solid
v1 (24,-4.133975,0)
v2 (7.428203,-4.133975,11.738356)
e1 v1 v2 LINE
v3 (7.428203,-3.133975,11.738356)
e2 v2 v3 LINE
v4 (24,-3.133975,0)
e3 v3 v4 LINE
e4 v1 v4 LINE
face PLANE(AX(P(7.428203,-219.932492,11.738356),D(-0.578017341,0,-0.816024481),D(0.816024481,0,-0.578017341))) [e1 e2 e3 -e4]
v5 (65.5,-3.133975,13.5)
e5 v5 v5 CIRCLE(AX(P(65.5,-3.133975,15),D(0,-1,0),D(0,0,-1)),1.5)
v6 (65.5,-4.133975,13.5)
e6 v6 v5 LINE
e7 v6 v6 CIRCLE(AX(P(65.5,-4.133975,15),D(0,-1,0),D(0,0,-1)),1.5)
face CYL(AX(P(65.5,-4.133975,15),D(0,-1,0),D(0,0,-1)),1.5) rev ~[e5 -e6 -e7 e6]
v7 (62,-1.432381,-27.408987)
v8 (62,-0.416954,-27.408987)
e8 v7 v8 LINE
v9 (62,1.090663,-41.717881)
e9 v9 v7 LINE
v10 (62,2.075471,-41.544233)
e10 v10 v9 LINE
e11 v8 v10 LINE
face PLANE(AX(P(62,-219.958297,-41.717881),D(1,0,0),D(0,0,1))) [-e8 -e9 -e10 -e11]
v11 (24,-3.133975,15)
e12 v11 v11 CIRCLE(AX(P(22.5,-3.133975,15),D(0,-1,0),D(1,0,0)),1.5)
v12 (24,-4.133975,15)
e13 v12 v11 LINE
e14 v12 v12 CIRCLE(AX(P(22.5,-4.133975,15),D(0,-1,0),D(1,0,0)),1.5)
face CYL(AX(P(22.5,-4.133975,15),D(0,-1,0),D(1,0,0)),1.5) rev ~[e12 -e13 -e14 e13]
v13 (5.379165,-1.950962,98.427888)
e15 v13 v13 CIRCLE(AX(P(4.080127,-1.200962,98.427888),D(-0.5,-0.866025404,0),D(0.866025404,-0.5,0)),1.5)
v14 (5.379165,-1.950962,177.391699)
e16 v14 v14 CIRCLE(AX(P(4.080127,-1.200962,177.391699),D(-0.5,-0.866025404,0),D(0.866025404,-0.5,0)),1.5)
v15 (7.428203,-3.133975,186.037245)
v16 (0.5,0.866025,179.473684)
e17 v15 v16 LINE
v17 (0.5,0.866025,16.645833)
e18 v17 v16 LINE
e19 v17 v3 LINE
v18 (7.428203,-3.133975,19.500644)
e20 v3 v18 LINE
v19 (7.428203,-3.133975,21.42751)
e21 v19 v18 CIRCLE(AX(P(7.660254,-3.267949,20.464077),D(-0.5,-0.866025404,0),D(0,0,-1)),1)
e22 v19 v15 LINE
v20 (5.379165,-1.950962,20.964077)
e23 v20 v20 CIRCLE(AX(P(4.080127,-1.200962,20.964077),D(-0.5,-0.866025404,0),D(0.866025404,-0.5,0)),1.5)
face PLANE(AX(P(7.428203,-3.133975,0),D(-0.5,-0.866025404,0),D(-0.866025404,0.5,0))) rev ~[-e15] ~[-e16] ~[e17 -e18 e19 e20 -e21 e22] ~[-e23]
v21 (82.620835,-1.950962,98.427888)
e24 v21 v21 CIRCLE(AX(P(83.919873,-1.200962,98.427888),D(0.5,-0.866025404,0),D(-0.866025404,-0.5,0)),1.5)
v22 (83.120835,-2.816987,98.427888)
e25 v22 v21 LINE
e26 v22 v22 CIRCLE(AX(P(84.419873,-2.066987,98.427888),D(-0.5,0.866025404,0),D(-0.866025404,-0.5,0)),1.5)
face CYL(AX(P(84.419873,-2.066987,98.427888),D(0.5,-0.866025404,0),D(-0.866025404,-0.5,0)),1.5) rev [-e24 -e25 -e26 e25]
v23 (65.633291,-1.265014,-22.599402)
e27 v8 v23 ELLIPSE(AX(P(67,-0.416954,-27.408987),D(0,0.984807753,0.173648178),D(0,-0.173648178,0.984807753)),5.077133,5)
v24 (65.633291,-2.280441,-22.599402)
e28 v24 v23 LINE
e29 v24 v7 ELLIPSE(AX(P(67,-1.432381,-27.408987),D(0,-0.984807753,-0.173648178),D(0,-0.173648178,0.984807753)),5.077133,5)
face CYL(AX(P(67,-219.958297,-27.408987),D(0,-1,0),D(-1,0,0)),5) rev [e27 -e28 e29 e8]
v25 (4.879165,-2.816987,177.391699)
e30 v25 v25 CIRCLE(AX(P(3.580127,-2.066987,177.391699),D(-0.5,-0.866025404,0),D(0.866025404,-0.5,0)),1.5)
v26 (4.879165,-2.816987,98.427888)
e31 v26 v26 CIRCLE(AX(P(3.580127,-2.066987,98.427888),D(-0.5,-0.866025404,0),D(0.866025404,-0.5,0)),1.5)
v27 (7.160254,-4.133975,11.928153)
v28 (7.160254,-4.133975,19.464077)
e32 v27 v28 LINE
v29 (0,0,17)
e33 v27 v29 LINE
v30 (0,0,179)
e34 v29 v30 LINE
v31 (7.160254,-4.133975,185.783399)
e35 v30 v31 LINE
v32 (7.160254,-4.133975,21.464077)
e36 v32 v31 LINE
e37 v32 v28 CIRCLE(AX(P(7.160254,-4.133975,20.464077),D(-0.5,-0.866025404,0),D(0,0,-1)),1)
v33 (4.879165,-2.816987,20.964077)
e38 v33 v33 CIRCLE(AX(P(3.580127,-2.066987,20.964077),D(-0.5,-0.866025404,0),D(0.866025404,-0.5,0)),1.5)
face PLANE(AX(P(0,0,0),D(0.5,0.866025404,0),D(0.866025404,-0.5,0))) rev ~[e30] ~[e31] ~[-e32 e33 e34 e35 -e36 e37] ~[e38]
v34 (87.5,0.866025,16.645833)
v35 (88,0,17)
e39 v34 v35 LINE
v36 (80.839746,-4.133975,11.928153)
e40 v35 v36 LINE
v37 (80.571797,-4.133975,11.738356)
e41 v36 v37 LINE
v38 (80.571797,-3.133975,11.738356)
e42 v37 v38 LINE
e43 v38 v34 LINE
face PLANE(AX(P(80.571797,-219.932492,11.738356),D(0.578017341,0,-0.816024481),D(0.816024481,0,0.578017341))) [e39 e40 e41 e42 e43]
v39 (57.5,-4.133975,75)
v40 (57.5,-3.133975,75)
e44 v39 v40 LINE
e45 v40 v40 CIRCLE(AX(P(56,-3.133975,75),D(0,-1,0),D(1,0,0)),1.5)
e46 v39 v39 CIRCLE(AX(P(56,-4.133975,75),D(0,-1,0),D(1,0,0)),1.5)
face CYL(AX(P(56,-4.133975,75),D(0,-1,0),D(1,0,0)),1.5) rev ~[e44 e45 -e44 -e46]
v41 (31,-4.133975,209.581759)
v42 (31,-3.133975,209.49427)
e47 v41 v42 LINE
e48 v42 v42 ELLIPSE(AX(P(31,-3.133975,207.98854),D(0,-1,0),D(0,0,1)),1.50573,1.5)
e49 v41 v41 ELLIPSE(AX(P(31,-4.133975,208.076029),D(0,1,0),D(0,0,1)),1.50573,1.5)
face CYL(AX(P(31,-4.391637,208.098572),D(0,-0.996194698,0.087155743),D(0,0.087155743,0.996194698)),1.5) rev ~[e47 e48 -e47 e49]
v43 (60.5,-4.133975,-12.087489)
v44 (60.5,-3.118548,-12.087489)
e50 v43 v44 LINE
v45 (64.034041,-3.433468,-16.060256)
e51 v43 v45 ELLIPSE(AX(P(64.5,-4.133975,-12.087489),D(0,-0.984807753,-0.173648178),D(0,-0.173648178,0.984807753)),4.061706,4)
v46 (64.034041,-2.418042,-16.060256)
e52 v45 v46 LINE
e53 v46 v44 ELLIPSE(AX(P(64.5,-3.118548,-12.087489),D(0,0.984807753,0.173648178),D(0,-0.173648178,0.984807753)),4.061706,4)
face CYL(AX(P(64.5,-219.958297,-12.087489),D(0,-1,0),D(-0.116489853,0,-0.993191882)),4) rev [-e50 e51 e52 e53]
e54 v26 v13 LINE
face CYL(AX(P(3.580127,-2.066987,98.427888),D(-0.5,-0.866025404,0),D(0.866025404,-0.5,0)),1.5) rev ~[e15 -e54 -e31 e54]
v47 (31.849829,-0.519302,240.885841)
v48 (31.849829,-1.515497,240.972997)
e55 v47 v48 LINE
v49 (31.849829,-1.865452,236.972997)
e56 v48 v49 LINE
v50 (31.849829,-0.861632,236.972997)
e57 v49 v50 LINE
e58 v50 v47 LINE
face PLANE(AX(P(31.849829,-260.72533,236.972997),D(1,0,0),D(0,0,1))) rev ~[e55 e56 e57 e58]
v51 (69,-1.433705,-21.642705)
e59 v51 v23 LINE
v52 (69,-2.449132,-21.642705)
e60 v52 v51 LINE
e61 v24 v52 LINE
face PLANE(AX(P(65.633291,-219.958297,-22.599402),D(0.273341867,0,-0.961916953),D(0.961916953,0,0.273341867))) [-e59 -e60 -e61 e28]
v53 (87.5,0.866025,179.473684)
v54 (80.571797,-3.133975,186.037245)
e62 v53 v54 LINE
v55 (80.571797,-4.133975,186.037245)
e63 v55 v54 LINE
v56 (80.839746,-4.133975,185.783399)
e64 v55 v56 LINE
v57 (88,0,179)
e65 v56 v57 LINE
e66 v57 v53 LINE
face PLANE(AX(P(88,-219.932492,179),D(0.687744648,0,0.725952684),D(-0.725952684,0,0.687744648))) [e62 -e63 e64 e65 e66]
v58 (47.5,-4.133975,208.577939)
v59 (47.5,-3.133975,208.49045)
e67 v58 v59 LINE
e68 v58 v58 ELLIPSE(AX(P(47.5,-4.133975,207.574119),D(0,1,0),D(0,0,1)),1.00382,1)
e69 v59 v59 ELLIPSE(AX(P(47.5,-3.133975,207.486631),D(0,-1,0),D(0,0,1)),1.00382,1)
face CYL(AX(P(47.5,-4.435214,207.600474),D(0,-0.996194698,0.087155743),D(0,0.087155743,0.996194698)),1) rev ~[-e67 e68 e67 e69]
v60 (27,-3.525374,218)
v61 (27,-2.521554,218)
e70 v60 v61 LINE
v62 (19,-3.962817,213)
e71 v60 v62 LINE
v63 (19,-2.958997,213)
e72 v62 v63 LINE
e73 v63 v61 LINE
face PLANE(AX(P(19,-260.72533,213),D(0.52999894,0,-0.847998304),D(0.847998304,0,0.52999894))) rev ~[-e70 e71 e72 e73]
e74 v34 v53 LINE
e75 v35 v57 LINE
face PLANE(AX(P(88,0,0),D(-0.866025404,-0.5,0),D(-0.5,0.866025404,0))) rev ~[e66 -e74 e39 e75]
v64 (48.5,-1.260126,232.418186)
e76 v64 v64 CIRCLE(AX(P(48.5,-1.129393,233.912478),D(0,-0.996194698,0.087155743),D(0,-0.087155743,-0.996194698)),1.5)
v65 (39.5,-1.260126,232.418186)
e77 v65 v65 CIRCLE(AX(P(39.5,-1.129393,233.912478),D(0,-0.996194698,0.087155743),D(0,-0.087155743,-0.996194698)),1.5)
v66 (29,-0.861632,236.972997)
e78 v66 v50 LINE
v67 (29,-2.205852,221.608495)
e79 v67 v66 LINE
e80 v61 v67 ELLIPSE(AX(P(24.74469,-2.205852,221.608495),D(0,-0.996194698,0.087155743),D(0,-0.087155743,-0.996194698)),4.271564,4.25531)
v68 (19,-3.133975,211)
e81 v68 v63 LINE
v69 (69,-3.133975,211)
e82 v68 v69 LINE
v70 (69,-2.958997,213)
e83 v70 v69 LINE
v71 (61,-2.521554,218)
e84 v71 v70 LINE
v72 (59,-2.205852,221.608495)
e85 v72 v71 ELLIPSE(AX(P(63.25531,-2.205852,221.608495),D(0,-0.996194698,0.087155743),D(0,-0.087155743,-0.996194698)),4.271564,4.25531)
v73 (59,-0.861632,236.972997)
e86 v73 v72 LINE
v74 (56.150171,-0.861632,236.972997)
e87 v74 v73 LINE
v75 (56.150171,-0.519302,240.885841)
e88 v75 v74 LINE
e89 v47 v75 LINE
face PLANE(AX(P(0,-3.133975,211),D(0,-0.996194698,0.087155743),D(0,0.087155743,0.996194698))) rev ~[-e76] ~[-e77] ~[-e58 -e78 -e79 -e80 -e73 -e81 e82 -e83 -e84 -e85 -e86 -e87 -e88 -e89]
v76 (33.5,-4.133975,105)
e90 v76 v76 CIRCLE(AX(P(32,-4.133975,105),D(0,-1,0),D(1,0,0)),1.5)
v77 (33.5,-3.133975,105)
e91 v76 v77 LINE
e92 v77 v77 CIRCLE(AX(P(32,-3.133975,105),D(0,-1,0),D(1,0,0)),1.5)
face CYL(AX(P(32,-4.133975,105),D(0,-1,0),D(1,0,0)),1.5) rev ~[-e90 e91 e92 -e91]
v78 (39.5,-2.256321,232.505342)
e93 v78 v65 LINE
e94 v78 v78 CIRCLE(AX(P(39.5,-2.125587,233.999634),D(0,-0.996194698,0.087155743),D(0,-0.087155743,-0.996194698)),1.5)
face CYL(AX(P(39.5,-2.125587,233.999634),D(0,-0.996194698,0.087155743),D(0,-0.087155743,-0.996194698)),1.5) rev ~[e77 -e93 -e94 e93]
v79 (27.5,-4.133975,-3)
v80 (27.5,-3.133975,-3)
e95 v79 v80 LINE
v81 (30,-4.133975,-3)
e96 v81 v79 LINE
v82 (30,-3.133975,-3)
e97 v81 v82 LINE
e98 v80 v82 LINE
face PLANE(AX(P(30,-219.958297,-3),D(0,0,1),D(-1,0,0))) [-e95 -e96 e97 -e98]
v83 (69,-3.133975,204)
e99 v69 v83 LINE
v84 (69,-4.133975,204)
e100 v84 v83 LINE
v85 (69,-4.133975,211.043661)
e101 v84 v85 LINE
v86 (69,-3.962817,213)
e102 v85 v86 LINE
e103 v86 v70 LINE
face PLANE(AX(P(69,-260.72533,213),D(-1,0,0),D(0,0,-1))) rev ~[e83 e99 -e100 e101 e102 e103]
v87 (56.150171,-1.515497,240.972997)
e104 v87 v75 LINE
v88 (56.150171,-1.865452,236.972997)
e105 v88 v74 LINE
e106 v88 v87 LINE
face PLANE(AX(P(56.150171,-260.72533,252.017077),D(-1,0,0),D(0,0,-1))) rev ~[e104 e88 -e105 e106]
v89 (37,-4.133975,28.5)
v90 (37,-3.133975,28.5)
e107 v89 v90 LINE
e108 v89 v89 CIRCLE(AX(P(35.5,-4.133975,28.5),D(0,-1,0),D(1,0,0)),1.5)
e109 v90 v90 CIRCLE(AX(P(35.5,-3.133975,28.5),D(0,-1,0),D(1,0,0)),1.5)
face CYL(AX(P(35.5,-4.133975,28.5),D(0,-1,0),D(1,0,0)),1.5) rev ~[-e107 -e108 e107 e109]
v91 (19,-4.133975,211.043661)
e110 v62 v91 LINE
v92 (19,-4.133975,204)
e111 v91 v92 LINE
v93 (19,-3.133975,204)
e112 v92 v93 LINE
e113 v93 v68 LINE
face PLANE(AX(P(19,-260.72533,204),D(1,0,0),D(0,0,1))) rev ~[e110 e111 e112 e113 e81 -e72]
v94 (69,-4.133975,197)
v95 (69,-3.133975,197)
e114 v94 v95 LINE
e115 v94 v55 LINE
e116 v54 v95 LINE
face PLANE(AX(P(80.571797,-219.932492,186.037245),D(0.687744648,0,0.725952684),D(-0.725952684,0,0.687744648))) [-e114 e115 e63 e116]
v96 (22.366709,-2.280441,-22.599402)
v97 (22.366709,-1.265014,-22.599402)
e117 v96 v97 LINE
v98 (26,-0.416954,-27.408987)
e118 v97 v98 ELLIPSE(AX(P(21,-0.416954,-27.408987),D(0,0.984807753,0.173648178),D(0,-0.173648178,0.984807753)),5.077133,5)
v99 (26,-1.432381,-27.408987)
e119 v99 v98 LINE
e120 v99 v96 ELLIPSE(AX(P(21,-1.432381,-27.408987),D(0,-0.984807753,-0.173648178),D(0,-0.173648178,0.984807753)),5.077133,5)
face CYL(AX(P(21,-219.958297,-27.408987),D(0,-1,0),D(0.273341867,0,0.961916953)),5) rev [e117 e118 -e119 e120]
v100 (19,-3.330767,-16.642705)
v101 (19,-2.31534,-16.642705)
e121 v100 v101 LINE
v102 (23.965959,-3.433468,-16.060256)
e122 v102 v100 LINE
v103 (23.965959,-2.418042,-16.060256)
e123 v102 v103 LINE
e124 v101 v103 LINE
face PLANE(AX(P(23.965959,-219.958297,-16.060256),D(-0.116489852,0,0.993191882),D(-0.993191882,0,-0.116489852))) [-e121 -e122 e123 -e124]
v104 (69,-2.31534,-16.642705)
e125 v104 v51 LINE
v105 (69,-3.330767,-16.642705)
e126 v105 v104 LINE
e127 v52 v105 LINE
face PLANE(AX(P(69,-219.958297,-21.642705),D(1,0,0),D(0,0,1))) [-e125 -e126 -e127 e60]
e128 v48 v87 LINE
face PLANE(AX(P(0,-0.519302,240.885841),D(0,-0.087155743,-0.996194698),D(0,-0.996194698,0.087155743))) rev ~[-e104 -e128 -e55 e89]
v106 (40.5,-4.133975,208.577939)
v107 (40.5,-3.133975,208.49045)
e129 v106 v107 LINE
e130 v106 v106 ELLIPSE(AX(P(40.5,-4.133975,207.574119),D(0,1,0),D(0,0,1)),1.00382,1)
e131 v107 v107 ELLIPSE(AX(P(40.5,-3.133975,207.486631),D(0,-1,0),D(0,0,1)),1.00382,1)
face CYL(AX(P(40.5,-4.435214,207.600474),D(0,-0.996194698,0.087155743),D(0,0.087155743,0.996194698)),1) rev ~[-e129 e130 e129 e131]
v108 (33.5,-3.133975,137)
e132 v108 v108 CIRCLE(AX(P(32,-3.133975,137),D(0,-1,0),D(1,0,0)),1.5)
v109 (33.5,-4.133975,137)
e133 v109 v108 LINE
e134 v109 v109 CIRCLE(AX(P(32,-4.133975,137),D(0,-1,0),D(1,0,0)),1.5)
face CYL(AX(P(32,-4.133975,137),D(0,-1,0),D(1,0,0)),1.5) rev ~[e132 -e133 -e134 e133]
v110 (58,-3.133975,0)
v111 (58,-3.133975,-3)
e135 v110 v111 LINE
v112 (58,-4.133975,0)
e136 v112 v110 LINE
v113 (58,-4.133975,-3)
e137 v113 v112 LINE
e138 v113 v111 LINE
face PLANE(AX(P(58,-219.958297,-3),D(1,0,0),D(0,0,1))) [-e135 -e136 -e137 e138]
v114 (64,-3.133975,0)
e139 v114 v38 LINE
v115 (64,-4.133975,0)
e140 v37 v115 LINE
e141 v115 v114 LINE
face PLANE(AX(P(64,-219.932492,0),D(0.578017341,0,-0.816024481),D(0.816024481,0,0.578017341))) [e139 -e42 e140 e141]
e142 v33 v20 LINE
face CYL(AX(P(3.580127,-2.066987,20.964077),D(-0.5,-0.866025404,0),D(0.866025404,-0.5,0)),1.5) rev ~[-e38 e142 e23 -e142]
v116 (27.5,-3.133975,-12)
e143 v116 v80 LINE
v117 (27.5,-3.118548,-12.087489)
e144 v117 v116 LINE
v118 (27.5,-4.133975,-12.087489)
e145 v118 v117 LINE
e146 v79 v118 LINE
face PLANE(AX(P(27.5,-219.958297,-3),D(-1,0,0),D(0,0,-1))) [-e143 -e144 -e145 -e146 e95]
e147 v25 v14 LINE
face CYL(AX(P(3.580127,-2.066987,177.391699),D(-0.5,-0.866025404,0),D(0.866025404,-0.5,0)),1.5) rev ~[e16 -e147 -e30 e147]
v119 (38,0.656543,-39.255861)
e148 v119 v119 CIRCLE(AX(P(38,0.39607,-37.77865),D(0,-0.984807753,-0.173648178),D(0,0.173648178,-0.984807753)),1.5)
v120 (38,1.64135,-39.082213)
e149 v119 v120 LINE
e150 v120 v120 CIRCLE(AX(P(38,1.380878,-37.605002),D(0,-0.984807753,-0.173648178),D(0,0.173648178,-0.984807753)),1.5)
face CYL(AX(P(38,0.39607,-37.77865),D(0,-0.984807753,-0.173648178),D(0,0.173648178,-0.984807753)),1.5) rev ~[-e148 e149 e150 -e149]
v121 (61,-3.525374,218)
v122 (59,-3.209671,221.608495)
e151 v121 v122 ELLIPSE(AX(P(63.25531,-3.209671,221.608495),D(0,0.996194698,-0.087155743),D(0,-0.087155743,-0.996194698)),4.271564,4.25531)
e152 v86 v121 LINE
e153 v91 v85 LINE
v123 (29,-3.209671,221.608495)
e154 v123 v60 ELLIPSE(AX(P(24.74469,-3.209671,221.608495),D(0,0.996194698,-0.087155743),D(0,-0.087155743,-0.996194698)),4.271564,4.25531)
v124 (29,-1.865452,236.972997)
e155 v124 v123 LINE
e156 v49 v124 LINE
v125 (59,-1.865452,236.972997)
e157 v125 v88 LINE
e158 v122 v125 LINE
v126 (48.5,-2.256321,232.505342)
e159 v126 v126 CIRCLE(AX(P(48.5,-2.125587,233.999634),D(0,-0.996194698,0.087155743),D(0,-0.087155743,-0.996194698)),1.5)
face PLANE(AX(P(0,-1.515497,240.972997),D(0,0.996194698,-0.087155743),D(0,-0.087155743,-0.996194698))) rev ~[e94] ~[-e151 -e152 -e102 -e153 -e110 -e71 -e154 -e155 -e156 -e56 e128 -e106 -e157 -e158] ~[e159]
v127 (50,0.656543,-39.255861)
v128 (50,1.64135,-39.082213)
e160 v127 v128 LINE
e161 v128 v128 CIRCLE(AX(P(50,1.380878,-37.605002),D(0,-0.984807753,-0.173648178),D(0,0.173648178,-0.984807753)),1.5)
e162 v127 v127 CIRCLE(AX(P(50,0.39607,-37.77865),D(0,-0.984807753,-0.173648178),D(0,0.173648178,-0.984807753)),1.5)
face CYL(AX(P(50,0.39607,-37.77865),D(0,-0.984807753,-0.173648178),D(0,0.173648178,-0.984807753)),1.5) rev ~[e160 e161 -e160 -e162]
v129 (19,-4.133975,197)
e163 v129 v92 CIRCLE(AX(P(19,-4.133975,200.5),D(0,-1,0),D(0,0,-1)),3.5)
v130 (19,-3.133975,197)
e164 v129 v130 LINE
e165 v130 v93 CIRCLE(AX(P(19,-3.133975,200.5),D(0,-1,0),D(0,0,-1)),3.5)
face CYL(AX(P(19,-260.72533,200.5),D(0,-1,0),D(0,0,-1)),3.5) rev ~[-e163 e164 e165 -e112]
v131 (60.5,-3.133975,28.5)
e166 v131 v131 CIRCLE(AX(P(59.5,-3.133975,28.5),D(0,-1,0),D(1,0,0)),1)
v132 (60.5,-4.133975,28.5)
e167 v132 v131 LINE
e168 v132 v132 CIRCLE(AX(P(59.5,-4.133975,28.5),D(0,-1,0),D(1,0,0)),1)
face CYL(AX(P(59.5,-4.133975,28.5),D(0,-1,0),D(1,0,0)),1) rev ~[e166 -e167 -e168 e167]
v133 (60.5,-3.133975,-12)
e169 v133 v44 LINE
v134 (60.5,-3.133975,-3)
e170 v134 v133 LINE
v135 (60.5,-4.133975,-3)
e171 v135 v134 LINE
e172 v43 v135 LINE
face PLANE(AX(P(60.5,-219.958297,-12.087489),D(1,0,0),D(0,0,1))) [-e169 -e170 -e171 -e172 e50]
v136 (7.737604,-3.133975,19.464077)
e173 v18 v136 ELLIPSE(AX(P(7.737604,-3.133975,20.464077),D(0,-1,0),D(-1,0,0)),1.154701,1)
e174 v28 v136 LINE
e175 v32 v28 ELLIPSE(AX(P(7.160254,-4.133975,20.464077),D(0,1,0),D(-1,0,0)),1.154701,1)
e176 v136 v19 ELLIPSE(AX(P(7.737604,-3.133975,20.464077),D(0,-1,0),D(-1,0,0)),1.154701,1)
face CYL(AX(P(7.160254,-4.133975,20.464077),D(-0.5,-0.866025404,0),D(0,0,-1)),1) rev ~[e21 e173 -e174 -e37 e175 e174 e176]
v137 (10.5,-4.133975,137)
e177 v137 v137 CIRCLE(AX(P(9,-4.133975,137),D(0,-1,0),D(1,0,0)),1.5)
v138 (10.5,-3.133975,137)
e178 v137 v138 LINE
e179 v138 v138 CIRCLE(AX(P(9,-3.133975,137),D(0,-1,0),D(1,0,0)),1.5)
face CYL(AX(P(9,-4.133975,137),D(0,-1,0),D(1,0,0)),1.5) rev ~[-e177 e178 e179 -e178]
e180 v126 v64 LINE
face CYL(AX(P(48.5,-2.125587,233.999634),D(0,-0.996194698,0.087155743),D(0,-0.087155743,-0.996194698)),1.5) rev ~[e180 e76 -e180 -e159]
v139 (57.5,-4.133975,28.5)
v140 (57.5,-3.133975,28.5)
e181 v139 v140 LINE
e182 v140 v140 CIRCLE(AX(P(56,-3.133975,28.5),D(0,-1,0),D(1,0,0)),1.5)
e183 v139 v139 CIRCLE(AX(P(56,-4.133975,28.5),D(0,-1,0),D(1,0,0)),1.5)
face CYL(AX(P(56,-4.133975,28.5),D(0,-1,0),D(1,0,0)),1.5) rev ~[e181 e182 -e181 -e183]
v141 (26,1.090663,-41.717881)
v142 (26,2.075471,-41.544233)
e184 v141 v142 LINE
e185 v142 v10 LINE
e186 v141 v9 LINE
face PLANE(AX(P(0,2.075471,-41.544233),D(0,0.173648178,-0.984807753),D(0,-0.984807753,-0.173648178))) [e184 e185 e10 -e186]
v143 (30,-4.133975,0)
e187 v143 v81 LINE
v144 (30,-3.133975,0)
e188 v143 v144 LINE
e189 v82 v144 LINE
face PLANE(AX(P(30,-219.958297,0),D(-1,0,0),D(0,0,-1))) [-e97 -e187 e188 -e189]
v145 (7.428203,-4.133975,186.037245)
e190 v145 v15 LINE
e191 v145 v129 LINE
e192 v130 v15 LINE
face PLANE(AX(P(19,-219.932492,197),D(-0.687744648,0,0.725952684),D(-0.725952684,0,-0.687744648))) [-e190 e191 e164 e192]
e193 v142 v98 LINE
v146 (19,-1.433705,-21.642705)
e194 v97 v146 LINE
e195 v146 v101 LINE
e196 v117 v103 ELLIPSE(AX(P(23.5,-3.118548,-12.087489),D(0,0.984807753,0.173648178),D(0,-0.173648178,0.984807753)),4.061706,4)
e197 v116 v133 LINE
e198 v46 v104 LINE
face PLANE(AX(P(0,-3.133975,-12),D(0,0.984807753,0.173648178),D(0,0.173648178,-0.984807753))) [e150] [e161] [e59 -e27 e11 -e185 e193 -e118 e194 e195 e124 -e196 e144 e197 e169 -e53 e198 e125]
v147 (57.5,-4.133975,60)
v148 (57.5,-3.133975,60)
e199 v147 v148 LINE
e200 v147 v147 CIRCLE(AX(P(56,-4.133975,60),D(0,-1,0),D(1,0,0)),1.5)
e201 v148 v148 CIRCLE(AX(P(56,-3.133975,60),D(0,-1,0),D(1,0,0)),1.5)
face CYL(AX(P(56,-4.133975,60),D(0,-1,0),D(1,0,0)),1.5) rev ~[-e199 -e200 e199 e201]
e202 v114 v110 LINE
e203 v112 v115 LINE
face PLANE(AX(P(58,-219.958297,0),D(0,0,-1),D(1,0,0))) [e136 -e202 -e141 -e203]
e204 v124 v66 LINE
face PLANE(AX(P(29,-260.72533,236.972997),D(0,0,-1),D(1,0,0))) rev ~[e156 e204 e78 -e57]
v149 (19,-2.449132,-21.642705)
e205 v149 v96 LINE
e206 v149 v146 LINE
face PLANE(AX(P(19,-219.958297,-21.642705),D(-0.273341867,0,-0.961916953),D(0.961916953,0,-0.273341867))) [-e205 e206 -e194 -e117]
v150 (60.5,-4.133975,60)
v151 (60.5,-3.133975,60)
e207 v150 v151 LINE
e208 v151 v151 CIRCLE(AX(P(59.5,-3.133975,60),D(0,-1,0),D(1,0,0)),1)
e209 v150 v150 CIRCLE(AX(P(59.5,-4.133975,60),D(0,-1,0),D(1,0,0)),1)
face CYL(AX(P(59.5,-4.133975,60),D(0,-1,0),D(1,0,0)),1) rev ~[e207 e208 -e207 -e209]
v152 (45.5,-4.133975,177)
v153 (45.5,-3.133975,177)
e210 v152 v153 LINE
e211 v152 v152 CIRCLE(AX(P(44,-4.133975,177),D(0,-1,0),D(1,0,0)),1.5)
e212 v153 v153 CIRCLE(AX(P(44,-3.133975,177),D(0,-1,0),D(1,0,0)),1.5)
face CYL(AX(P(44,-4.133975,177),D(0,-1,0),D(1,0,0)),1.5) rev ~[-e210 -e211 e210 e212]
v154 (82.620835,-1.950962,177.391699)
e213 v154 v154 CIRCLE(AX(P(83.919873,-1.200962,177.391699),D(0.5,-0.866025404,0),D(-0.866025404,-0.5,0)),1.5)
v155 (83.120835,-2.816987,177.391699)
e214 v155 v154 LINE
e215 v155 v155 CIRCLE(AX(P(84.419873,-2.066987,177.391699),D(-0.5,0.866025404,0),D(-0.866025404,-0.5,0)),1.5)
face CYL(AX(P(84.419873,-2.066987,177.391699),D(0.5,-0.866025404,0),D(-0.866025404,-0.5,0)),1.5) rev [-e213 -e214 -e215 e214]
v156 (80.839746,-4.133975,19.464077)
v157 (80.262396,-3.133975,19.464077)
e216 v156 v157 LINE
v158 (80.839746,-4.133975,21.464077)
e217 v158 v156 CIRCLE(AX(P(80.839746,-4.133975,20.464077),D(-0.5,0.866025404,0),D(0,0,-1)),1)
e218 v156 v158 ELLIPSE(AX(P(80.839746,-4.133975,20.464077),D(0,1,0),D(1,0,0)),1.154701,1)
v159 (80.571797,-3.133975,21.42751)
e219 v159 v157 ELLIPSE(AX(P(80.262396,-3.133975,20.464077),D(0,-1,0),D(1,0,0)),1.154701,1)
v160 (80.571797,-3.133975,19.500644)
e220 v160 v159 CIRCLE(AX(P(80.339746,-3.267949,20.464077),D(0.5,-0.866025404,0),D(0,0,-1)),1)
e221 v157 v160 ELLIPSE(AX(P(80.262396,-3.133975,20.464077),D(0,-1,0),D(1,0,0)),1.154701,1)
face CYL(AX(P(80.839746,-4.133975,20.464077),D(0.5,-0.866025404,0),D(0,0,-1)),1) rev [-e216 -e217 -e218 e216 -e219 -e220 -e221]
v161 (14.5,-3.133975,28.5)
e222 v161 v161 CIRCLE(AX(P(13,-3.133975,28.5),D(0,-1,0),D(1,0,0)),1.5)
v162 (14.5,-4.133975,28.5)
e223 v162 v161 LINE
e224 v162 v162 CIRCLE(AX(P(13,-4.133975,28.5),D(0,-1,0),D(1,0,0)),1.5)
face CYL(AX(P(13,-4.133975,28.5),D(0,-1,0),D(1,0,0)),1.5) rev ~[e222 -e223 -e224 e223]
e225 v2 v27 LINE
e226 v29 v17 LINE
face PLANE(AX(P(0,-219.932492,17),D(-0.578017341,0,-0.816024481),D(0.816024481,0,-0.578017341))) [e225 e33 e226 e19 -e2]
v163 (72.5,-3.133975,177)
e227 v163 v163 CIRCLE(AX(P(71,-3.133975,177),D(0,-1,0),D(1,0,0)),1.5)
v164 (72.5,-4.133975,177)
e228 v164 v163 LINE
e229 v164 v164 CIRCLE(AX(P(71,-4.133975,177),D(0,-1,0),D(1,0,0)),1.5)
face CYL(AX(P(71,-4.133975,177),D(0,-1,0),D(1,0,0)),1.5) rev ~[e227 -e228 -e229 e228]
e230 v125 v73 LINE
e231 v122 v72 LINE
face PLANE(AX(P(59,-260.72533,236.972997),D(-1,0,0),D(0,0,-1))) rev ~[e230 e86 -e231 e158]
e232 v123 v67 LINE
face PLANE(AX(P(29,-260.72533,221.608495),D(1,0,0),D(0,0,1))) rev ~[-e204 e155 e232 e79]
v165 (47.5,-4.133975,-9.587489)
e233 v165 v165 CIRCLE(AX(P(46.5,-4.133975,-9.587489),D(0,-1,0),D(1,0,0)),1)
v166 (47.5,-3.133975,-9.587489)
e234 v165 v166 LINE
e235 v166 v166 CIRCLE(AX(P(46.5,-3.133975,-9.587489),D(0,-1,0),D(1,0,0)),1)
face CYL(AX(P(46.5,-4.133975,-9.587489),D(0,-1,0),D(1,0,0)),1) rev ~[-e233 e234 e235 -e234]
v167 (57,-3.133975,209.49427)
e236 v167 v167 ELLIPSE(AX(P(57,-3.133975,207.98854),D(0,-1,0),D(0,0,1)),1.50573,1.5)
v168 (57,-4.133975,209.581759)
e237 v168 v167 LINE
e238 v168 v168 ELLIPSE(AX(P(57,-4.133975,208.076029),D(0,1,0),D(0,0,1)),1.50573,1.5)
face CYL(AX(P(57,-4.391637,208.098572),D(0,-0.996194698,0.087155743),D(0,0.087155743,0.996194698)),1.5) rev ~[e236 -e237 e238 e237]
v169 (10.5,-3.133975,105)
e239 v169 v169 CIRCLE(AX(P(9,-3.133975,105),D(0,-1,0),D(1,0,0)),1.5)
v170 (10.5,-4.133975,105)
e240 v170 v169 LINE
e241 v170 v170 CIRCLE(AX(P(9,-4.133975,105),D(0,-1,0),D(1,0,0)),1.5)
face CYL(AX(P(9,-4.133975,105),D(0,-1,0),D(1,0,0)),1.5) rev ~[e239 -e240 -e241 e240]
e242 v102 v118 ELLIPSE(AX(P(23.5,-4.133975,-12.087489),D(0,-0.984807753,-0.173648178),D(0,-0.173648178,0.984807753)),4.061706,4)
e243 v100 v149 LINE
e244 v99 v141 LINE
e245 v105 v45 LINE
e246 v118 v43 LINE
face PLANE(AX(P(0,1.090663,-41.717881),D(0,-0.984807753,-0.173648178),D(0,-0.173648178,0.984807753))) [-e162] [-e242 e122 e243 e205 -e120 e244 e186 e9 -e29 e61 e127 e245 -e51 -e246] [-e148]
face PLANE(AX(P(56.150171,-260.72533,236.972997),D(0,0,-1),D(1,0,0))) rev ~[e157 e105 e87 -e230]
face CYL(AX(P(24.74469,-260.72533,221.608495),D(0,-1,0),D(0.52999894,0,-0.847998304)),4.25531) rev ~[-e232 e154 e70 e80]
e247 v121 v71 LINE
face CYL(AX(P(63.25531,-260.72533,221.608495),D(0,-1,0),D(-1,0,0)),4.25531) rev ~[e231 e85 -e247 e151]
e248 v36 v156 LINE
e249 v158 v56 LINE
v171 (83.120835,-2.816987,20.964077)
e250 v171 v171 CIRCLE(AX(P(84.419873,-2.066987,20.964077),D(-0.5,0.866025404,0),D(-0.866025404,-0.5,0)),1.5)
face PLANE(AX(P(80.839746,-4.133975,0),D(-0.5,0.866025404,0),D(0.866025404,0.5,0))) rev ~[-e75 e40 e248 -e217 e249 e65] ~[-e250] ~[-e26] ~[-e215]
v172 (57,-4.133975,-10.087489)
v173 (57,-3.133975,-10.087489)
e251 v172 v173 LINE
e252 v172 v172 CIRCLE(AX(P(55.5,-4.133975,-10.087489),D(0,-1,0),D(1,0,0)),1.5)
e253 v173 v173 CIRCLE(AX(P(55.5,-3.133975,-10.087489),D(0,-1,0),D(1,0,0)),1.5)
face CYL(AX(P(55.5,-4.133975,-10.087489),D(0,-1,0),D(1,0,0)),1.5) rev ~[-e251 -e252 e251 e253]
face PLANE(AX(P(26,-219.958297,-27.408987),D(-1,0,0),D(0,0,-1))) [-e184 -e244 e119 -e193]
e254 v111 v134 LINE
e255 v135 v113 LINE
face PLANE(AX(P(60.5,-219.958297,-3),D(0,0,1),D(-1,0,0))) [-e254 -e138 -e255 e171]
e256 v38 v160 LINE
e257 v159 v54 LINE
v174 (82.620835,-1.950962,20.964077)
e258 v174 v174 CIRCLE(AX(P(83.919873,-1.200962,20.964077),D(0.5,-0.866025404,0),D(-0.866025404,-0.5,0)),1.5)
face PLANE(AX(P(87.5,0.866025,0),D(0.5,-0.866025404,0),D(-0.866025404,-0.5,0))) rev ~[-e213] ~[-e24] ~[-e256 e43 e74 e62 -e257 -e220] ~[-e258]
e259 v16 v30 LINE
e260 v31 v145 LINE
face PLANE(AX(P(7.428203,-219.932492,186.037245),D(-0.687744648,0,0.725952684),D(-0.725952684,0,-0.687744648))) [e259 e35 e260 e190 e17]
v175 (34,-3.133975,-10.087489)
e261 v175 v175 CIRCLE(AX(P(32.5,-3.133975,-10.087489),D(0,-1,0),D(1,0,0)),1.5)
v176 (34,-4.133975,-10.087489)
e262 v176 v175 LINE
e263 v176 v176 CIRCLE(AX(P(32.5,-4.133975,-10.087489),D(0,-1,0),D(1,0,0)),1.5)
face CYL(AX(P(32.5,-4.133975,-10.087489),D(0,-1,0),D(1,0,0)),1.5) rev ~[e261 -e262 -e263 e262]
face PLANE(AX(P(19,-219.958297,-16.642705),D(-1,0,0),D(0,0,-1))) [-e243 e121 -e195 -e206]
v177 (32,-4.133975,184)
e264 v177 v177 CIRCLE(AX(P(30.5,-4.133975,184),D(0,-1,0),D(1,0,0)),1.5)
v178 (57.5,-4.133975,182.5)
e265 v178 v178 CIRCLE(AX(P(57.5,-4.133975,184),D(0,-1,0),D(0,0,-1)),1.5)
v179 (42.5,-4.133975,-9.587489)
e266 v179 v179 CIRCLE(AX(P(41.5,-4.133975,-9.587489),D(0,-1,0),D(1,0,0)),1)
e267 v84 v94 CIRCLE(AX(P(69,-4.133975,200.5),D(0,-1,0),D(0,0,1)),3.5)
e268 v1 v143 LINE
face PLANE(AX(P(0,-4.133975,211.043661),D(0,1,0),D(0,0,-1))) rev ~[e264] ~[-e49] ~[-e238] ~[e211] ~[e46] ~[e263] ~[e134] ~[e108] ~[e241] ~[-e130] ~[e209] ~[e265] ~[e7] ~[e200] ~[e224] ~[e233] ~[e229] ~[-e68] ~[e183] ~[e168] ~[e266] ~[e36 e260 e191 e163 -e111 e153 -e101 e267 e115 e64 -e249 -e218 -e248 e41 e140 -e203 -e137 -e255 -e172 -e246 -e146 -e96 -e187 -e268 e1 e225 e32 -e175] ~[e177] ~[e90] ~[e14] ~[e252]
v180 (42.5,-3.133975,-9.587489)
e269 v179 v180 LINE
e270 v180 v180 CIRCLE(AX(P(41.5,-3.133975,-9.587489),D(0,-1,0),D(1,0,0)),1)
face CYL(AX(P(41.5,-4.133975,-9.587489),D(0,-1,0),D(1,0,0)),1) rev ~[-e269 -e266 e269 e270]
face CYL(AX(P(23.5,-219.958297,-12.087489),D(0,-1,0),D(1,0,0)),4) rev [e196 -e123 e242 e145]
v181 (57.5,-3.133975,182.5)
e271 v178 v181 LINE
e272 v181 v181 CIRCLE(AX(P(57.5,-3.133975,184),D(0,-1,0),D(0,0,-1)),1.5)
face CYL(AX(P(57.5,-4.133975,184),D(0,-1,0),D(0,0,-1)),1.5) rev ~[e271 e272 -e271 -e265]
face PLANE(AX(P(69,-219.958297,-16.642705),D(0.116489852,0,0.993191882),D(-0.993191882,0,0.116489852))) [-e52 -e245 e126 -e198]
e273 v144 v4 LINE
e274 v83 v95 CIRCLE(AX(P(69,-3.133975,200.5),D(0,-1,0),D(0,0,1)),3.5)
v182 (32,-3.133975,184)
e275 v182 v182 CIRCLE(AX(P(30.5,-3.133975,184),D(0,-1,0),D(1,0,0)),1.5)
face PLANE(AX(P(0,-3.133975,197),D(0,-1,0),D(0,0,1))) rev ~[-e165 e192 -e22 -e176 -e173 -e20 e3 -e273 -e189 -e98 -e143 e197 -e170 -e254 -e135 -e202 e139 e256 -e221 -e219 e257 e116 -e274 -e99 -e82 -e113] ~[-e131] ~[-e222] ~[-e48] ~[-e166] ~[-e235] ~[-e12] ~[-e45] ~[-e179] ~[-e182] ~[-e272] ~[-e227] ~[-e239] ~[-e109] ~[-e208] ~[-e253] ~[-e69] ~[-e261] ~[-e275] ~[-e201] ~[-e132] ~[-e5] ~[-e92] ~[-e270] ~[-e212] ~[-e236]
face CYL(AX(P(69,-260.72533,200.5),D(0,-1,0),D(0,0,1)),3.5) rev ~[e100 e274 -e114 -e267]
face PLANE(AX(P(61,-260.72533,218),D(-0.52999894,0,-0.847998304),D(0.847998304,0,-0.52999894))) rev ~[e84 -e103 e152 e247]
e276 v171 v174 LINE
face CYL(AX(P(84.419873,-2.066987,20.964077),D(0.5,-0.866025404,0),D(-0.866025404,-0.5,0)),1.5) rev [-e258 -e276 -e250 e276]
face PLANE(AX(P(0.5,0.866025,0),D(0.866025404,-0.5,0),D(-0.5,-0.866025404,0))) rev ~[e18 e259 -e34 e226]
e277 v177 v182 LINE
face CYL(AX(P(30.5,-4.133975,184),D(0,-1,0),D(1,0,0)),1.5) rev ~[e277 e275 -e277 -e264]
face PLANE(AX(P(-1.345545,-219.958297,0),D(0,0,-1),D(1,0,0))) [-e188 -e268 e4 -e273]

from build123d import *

# Parameters (mm, degrees)
BOSS_EXTRUDE1_DEPTH      = 197
CUT_EXTRUDE3_DEPTH       = 216.79851714
CUT_EXTRUDE3_DEPTH_BACK  = 216.79851714
BOSS_EXTRUDE2_DEPTH      = 88
CUT_EXTRUDE4_DEPTH       = 216.82432282
CUT_EXTRUDE4_DEPTH_BACK  = 216.82432282
BOSS_EXTRUDE3_DEPTH      = 88
CUT_EXTRUDE_Q_DEPTH      = 257.591354983
CUT_EXTRUDE_Q_DEPTH_BACK = 257.591354983
SKETCH11_R               = 1.5
SKETCH11_R_2             = 1
CUT_EXTRUDE5_DEPTH       = 10
SKETCH12_R               = 1.5
SKETCH12_R_2             = 1
CUT_EXTRUDE6_DEPTH       = 10
SKETCH14_R               = 1.5
SKETCH14_R_2             = 1
CUT_EXTRUDE7_DEPTH       = 10
SKETCH16_R               = 1.5
CUT_EXTRUDE8_DEPTH       = 10


with BuildPart() as part:
    # Sketch1 → Boss-Extrude1 (new body)
    with BuildSketch(Plane.XY):
        Polygon((0, 0), (7.160254038, -4.133974596), (80.839745962, -4.133974596), (88, 0), (87.5, 0.866025404), (80.57179677, -3.133974596), (7.42820323, -3.133974596), (0.5, 0.866025404), align=None)
    extrude(amount=BOSS_EXTRUDE1_DEPTH)

    # Sketch3 → Cut-Extrude3 (cut, two sides: drawn at the far end of the back side and taken through both)
    with BuildSketch(Plane(origin=(0, -3.133974596, 0), x_dir=(1, 0, 0), z_dir=(0, 1, 0)).offset(-CUT_EXTRUDE3_DEPTH_BACK)):
        Polygon((0, 0), (0, -17), (7.42820323, -11.738356045), (7.42820323, 0), align=None)
        Polygon((7.42820323, 0), (7.42820323, -11.738356045), (24, 0), align=None)
        Polygon((80.57179677, 0), (64, 0), (80.57179677, -11.738356045), align=None)
        Polygon((80.57179677, 0), (80.57179677, -11.738356045), (88, -17), (88, 0), align=None)
        Polygon((7.42820323, -186.037245166), (0, -179), (0, -197), (7.42820323, -197), align=None)
        Polygon((19, -197), (7.42820323, -186.037245166), (7.42820323, -197), align=None)
        Polygon((80.57179677, -186.037245166), (69, -197), (80.57179677, -197), align=None)
        Polygon((88, -179), (80.57179677, -186.037245166), (80.57179677, -197), (88, -197), align=None)
    extrude(amount=CUT_EXTRUDE3_DEPTH + CUT_EXTRUDE3_DEPTH_BACK, mode=Mode.SUBTRACT)

    # Sketch5 → Boss-Extrude2 (add)
    with BuildSketch(Plane(origin=(0, 0, 0), x_dir=(0, 0, -1), z_dir=(1, 0, 0))):
        Polygon((0, -3.133974596), (12, -3.133974596), (41.54423259, 2.075470734), (41.717880768, 1.090662981), (12.087488664, -4.133974596), (0, -4.133974596), align=None)
    extrude(amount=BOSS_EXTRUDE2_DEPTH)

    # Sketch6 → Cut-Extrude4 (cut, two sides: drawn at the far end of the back side and taken through both)
    with BuildSketch(Plane(origin=(0, -3.133974596, 0), x_dir=(1, 0, 0), z_dir=(0, 1, 0)).offset(-CUT_EXTRUDE4_DEPTH_BACK)):
        with BuildLine():
            Line((24, 0), (30, 0))
            Line((30, 0), (30, 3))
            Line((30, 3), (27.5, 3))
            Line((27.5, 3), (27.5, 12.087488664))
            ThreePointArc((27.5, 12.087488664), (26.488631596, 14.746074976), (23.96595941, 16.060256191))
            Line((23.96595941, 16.060256191), (19, 16.642705453))
            Line((19, 16.642705453), (19, 21.642705453))
            Line((19, 21.642705453), (22.366709334, 22.599401987))
            ThreePointArc((22.366709334, 22.599401987), (24.989583103, 24.39514756), (26, 27.40898675))
            Line((26, 27.40898675), (26, 41.717880768))
            Line((26, 41.717880768), (62, 41.717880768))
            Line((62, 41.717880768), (62, 27.40898675))
            ThreePointArc((62, 27.40898675), (63.010416897, 24.39514756), (65.633290666, 22.599401987))
            Line((65.633290666, 22.599401987), (69, 21.642705453))
            Line((69, 21.642705453), (69, 16.642705453))
            Line((69, 16.642705453), (64.03404059, 16.060256191))
            ThreePointArc((64.03404059, 16.060256191), (61.511368404, 14.746074976), (60.5, 12.087488664))
            Line((60.5, 12.087488664), (60.5, 3))
            Line((60.5, 3), (58, 3))
            Line((58, 3), (58, 0))
            Line((58, 0), (64, 0))
            Line((64, 0), (89.345545356, 0))
            Line((89.345545356, 0), (89.345545356, 57.606108668))
            Line((89.345545356, 57.606108668), (-1.345545356, 57.606108668))
            Line((-1.345545356, 57.606108668), (-1.345545356, 0))
            Line((-1.345545356, 0), (24, 0))
        make_face()
    extrude(amount=CUT_EXTRUDE4_DEPTH + CUT_EXTRUDE4_DEPTH_BACK, mode=Mode.SUBTRACT)

    # Sketch8 → Boss-Extrude3 (add)
    with BuildSketch(Plane(origin=(0, 0, 0), x_dir=(0, 0, -1), z_dir=(1, 0, 0))):
        Polygon((-197, -3.133974596), (-211, -3.133974596), (-240.885840943, -0.519302314), (-240.972996686, -1.515497012), (-211.043660943, -4.133974596), (-197, -4.133974596), align=None)
    extrude(amount=BOSS_EXTRUDE3_DEPTH)

    # Sketch9 → Cut-Extrude q (cut, two sides: drawn at the far end of the back side and taken through both)
    with BuildSketch(Plane(origin=(0, -3.133974596, 0), x_dir=(1, 0, 0), z_dir=(0, 1, 0)).offset(-CUT_EXTRUDE_Q_DEPTH_BACK)):
        with BuildLine():
            Line((29, -221.608495283), (29, -236.972996686))
            Line((29, -236.972996686), (31.84982933, -236.972996686))
            Line((31.84982933, -236.972996686), (31.84982933, -240.972996686))
            Line((31.84982933, -240.972996686), (31.84982933, -252.017077063))
            Line((31.84982933, -252.017077063), (0, -252.017077063))
            Line((0, -252.017077063), (0, -240.885840943))
            Line((0, -240.885840943), (0, -211))
            Line((0, -211), (0, -197))
            Line((0, -197), (19, -197))
            ThreePointArc((19, -197), (22.5, -200.5), (19, -204))
            Line((19, -204), (19, -213))
            Line((19, -213), (27, -218))
            ThreePointArc((27, -218), (28.466564953, -219.545655117), (29, -221.608495283))
        make_face()
        with BuildLine():
            Line((88, -211), (88, -240.885840943))
            Line((88, -240.885840943), (88, -252.017077063))
            Line((88, -252.017077063), (56.15017067, -252.017077063))
            Line((56.15017067, -252.017077063), (56.15017067, -240.972996686))
            Line((56.15017067, -240.972996686), (56.15017067, -236.972996686))
            Line((56.15017067, -236.972996686), (59, -236.972996686))
            Line((59, -236.972996686), (59, -221.608495283))
            ThreePointArc((59, -221.608495283), (59.533435047, -219.545655117), (61, -218))
            Line((61, -218), (69, -213))
            Line((69, -213), (69, -204))
            ThreePointArc((69, -204), (65.5, -200.5), (69, -197))
            Line((69, -197), (88, -197))
            Line((88, -197), (88, -211))
        make_face()
    extrude(amount=CUT_EXTRUDE_Q_DEPTH + CUT_EXTRUDE_Q_DEPTH_BACK, mode=Mode.SUBTRACT)

    # Sketch11 → Cut-Extrude5 (cut)
    with BuildSketch(Plane(origin=(0, -22.42624598, 1.962042289), x_dir=(1, 0, 0), z_dir=(0, -0.9961946980917457, 0.08715574274765849))):
        with Locations(Location((39.5, 232.923937414, 0), (0, 0, 270))):
            Circle(SKETCH11_R)
        with Locations(Location((31, 206.923937414, 0), (0, 0, 90))):
            Circle(SKETCH11_R)
        with Locations(Location((40.5, 206.423937414, 0), (0, 0, 90))):
            Circle(SKETCH11_R_2)
        with Locations(Location((47.5, 206.423937414, 0), (0, 0, 90))):
            Circle(SKETCH11_R_2)
        with Locations(Location((57, 206.923937414, 0), (0, 0, 90))):
            Circle(SKETCH11_R)
        with Locations(Location((48.5, 232.923937414, 0), (0, 0, 270))):
            Circle(SKETCH11_R)
    extrude(amount=-CUT_EXTRUDE5_DEPTH, mode=Mode.SUBTRACT)

    # Sketch12 → Cut-Extrude6 (cut)
    with BuildSketch(Plane(origin=(0, 0, 0), x_dir=(0.866025403784438, -0.5000000000000012, 0), z_dir=(-0.5000000000000011, -0.8660254037844379, 0))):
        with Locations((4.133974596, 177.391699281)):
            Circle(SKETCH12_R)
        with Locations((4.133974596, 98.427887988)):
            Circle(SKETCH12_R)
        with Locations((4.133974596, 20.964076695)):
            Circle(SKETCH12_R)
        with Locations(Location((8.267949192, 20.464076695, 0), (0, 0, 270))):
            Circle(SKETCH12_R_2)
    cut_extrude6 = extrude(amount=-CUT_EXTRUDE6_DEPTH, mode=Mode.SUBTRACT)

    # Mirror1: Cut-Extrude6 across plane
    add(cut_extrude6.mirror(Plane(origin=(44, 0, 0), x_dir=(0, 0, 1), z_dir=(1, 0, 0))), mode=Mode.SUBTRACT)

    # Sketch14 → Cut-Extrude7 (cut)
    with BuildSketch(Plane.XZ.offset(4.133974596)):
        with Locations((30.5, 184)):
            Circle(SKETCH14_R)
        with Locations((22.5, 15)):
            Circle(SKETCH14_R)
        with Locations((44, 177)):
            Circle(SKETCH14_R)
        with Locations(Location((65.5, 15, 0), (0, 0, 270))):
            Circle(SKETCH14_R)
        with Locations(Location((57.5, 184, 0), (0, 0, 270))):
            Circle(SKETCH14_R)
        with Locations((71, 177)):
            Circle(SKETCH14_R)
        with Locations((9, 137)):
            Circle(SKETCH14_R)
        with Locations((32, 105)):
            Circle(SKETCH14_R)
        with Locations((32, 137)):
            Circle(SKETCH14_R)
        with Locations((9, 105)):
            Circle(SKETCH14_R)
        with Locations((13, 28.5)):
            Circle(SKETCH14_R)
        with Locations((35.5, 28.5)):
            Circle(SKETCH14_R)
        with Locations((56, 28.5)):
            Circle(SKETCH14_R)
        with Locations((59.5, 28.5)):
            Circle(SKETCH14_R_2)
        with Locations((56, 75)):
            Circle(SKETCH14_R)
        with Locations((56, 60)):
            Circle(SKETCH14_R)
        with Locations((55.5, -10.087488664)):
            Circle(SKETCH14_R)
        with Locations((32.5, -10.087488664)):
            Circle(SKETCH14_R)
        with Locations((46.5, -9.587488664)):
            Circle(SKETCH14_R_2)
        with Locations((41.5, -9.587488664)):
            Circle(SKETCH14_R_2)
        with Locations((59.5, 60)):
            Circle(SKETCH14_R_2)
    extrude(amount=-CUT_EXTRUDE7_DEPTH, mode=Mode.SUBTRACT)

    # Sketch16 → Cut-Extrude8 (cut)
    with BuildSketch(Plane(origin=(0, -6.076402312, -1.071433673), x_dir=(1, 0, 0), z_dir=(0, -0.9848077530122079, -0.17364817766693125))):
        with Locations(Location((38, -37.273484059, 0), (0, 0, 270))):
            Circle(SKETCH16_R)
        with Locations(Location((50, -37.273484059, 0), (0, 0, 270))):
            Circle(SKETCH16_R)
    extrude(amount=-CUT_EXTRUDE8_DEPTH, mode=Mode.SUBTRACT)


solid = part.part
